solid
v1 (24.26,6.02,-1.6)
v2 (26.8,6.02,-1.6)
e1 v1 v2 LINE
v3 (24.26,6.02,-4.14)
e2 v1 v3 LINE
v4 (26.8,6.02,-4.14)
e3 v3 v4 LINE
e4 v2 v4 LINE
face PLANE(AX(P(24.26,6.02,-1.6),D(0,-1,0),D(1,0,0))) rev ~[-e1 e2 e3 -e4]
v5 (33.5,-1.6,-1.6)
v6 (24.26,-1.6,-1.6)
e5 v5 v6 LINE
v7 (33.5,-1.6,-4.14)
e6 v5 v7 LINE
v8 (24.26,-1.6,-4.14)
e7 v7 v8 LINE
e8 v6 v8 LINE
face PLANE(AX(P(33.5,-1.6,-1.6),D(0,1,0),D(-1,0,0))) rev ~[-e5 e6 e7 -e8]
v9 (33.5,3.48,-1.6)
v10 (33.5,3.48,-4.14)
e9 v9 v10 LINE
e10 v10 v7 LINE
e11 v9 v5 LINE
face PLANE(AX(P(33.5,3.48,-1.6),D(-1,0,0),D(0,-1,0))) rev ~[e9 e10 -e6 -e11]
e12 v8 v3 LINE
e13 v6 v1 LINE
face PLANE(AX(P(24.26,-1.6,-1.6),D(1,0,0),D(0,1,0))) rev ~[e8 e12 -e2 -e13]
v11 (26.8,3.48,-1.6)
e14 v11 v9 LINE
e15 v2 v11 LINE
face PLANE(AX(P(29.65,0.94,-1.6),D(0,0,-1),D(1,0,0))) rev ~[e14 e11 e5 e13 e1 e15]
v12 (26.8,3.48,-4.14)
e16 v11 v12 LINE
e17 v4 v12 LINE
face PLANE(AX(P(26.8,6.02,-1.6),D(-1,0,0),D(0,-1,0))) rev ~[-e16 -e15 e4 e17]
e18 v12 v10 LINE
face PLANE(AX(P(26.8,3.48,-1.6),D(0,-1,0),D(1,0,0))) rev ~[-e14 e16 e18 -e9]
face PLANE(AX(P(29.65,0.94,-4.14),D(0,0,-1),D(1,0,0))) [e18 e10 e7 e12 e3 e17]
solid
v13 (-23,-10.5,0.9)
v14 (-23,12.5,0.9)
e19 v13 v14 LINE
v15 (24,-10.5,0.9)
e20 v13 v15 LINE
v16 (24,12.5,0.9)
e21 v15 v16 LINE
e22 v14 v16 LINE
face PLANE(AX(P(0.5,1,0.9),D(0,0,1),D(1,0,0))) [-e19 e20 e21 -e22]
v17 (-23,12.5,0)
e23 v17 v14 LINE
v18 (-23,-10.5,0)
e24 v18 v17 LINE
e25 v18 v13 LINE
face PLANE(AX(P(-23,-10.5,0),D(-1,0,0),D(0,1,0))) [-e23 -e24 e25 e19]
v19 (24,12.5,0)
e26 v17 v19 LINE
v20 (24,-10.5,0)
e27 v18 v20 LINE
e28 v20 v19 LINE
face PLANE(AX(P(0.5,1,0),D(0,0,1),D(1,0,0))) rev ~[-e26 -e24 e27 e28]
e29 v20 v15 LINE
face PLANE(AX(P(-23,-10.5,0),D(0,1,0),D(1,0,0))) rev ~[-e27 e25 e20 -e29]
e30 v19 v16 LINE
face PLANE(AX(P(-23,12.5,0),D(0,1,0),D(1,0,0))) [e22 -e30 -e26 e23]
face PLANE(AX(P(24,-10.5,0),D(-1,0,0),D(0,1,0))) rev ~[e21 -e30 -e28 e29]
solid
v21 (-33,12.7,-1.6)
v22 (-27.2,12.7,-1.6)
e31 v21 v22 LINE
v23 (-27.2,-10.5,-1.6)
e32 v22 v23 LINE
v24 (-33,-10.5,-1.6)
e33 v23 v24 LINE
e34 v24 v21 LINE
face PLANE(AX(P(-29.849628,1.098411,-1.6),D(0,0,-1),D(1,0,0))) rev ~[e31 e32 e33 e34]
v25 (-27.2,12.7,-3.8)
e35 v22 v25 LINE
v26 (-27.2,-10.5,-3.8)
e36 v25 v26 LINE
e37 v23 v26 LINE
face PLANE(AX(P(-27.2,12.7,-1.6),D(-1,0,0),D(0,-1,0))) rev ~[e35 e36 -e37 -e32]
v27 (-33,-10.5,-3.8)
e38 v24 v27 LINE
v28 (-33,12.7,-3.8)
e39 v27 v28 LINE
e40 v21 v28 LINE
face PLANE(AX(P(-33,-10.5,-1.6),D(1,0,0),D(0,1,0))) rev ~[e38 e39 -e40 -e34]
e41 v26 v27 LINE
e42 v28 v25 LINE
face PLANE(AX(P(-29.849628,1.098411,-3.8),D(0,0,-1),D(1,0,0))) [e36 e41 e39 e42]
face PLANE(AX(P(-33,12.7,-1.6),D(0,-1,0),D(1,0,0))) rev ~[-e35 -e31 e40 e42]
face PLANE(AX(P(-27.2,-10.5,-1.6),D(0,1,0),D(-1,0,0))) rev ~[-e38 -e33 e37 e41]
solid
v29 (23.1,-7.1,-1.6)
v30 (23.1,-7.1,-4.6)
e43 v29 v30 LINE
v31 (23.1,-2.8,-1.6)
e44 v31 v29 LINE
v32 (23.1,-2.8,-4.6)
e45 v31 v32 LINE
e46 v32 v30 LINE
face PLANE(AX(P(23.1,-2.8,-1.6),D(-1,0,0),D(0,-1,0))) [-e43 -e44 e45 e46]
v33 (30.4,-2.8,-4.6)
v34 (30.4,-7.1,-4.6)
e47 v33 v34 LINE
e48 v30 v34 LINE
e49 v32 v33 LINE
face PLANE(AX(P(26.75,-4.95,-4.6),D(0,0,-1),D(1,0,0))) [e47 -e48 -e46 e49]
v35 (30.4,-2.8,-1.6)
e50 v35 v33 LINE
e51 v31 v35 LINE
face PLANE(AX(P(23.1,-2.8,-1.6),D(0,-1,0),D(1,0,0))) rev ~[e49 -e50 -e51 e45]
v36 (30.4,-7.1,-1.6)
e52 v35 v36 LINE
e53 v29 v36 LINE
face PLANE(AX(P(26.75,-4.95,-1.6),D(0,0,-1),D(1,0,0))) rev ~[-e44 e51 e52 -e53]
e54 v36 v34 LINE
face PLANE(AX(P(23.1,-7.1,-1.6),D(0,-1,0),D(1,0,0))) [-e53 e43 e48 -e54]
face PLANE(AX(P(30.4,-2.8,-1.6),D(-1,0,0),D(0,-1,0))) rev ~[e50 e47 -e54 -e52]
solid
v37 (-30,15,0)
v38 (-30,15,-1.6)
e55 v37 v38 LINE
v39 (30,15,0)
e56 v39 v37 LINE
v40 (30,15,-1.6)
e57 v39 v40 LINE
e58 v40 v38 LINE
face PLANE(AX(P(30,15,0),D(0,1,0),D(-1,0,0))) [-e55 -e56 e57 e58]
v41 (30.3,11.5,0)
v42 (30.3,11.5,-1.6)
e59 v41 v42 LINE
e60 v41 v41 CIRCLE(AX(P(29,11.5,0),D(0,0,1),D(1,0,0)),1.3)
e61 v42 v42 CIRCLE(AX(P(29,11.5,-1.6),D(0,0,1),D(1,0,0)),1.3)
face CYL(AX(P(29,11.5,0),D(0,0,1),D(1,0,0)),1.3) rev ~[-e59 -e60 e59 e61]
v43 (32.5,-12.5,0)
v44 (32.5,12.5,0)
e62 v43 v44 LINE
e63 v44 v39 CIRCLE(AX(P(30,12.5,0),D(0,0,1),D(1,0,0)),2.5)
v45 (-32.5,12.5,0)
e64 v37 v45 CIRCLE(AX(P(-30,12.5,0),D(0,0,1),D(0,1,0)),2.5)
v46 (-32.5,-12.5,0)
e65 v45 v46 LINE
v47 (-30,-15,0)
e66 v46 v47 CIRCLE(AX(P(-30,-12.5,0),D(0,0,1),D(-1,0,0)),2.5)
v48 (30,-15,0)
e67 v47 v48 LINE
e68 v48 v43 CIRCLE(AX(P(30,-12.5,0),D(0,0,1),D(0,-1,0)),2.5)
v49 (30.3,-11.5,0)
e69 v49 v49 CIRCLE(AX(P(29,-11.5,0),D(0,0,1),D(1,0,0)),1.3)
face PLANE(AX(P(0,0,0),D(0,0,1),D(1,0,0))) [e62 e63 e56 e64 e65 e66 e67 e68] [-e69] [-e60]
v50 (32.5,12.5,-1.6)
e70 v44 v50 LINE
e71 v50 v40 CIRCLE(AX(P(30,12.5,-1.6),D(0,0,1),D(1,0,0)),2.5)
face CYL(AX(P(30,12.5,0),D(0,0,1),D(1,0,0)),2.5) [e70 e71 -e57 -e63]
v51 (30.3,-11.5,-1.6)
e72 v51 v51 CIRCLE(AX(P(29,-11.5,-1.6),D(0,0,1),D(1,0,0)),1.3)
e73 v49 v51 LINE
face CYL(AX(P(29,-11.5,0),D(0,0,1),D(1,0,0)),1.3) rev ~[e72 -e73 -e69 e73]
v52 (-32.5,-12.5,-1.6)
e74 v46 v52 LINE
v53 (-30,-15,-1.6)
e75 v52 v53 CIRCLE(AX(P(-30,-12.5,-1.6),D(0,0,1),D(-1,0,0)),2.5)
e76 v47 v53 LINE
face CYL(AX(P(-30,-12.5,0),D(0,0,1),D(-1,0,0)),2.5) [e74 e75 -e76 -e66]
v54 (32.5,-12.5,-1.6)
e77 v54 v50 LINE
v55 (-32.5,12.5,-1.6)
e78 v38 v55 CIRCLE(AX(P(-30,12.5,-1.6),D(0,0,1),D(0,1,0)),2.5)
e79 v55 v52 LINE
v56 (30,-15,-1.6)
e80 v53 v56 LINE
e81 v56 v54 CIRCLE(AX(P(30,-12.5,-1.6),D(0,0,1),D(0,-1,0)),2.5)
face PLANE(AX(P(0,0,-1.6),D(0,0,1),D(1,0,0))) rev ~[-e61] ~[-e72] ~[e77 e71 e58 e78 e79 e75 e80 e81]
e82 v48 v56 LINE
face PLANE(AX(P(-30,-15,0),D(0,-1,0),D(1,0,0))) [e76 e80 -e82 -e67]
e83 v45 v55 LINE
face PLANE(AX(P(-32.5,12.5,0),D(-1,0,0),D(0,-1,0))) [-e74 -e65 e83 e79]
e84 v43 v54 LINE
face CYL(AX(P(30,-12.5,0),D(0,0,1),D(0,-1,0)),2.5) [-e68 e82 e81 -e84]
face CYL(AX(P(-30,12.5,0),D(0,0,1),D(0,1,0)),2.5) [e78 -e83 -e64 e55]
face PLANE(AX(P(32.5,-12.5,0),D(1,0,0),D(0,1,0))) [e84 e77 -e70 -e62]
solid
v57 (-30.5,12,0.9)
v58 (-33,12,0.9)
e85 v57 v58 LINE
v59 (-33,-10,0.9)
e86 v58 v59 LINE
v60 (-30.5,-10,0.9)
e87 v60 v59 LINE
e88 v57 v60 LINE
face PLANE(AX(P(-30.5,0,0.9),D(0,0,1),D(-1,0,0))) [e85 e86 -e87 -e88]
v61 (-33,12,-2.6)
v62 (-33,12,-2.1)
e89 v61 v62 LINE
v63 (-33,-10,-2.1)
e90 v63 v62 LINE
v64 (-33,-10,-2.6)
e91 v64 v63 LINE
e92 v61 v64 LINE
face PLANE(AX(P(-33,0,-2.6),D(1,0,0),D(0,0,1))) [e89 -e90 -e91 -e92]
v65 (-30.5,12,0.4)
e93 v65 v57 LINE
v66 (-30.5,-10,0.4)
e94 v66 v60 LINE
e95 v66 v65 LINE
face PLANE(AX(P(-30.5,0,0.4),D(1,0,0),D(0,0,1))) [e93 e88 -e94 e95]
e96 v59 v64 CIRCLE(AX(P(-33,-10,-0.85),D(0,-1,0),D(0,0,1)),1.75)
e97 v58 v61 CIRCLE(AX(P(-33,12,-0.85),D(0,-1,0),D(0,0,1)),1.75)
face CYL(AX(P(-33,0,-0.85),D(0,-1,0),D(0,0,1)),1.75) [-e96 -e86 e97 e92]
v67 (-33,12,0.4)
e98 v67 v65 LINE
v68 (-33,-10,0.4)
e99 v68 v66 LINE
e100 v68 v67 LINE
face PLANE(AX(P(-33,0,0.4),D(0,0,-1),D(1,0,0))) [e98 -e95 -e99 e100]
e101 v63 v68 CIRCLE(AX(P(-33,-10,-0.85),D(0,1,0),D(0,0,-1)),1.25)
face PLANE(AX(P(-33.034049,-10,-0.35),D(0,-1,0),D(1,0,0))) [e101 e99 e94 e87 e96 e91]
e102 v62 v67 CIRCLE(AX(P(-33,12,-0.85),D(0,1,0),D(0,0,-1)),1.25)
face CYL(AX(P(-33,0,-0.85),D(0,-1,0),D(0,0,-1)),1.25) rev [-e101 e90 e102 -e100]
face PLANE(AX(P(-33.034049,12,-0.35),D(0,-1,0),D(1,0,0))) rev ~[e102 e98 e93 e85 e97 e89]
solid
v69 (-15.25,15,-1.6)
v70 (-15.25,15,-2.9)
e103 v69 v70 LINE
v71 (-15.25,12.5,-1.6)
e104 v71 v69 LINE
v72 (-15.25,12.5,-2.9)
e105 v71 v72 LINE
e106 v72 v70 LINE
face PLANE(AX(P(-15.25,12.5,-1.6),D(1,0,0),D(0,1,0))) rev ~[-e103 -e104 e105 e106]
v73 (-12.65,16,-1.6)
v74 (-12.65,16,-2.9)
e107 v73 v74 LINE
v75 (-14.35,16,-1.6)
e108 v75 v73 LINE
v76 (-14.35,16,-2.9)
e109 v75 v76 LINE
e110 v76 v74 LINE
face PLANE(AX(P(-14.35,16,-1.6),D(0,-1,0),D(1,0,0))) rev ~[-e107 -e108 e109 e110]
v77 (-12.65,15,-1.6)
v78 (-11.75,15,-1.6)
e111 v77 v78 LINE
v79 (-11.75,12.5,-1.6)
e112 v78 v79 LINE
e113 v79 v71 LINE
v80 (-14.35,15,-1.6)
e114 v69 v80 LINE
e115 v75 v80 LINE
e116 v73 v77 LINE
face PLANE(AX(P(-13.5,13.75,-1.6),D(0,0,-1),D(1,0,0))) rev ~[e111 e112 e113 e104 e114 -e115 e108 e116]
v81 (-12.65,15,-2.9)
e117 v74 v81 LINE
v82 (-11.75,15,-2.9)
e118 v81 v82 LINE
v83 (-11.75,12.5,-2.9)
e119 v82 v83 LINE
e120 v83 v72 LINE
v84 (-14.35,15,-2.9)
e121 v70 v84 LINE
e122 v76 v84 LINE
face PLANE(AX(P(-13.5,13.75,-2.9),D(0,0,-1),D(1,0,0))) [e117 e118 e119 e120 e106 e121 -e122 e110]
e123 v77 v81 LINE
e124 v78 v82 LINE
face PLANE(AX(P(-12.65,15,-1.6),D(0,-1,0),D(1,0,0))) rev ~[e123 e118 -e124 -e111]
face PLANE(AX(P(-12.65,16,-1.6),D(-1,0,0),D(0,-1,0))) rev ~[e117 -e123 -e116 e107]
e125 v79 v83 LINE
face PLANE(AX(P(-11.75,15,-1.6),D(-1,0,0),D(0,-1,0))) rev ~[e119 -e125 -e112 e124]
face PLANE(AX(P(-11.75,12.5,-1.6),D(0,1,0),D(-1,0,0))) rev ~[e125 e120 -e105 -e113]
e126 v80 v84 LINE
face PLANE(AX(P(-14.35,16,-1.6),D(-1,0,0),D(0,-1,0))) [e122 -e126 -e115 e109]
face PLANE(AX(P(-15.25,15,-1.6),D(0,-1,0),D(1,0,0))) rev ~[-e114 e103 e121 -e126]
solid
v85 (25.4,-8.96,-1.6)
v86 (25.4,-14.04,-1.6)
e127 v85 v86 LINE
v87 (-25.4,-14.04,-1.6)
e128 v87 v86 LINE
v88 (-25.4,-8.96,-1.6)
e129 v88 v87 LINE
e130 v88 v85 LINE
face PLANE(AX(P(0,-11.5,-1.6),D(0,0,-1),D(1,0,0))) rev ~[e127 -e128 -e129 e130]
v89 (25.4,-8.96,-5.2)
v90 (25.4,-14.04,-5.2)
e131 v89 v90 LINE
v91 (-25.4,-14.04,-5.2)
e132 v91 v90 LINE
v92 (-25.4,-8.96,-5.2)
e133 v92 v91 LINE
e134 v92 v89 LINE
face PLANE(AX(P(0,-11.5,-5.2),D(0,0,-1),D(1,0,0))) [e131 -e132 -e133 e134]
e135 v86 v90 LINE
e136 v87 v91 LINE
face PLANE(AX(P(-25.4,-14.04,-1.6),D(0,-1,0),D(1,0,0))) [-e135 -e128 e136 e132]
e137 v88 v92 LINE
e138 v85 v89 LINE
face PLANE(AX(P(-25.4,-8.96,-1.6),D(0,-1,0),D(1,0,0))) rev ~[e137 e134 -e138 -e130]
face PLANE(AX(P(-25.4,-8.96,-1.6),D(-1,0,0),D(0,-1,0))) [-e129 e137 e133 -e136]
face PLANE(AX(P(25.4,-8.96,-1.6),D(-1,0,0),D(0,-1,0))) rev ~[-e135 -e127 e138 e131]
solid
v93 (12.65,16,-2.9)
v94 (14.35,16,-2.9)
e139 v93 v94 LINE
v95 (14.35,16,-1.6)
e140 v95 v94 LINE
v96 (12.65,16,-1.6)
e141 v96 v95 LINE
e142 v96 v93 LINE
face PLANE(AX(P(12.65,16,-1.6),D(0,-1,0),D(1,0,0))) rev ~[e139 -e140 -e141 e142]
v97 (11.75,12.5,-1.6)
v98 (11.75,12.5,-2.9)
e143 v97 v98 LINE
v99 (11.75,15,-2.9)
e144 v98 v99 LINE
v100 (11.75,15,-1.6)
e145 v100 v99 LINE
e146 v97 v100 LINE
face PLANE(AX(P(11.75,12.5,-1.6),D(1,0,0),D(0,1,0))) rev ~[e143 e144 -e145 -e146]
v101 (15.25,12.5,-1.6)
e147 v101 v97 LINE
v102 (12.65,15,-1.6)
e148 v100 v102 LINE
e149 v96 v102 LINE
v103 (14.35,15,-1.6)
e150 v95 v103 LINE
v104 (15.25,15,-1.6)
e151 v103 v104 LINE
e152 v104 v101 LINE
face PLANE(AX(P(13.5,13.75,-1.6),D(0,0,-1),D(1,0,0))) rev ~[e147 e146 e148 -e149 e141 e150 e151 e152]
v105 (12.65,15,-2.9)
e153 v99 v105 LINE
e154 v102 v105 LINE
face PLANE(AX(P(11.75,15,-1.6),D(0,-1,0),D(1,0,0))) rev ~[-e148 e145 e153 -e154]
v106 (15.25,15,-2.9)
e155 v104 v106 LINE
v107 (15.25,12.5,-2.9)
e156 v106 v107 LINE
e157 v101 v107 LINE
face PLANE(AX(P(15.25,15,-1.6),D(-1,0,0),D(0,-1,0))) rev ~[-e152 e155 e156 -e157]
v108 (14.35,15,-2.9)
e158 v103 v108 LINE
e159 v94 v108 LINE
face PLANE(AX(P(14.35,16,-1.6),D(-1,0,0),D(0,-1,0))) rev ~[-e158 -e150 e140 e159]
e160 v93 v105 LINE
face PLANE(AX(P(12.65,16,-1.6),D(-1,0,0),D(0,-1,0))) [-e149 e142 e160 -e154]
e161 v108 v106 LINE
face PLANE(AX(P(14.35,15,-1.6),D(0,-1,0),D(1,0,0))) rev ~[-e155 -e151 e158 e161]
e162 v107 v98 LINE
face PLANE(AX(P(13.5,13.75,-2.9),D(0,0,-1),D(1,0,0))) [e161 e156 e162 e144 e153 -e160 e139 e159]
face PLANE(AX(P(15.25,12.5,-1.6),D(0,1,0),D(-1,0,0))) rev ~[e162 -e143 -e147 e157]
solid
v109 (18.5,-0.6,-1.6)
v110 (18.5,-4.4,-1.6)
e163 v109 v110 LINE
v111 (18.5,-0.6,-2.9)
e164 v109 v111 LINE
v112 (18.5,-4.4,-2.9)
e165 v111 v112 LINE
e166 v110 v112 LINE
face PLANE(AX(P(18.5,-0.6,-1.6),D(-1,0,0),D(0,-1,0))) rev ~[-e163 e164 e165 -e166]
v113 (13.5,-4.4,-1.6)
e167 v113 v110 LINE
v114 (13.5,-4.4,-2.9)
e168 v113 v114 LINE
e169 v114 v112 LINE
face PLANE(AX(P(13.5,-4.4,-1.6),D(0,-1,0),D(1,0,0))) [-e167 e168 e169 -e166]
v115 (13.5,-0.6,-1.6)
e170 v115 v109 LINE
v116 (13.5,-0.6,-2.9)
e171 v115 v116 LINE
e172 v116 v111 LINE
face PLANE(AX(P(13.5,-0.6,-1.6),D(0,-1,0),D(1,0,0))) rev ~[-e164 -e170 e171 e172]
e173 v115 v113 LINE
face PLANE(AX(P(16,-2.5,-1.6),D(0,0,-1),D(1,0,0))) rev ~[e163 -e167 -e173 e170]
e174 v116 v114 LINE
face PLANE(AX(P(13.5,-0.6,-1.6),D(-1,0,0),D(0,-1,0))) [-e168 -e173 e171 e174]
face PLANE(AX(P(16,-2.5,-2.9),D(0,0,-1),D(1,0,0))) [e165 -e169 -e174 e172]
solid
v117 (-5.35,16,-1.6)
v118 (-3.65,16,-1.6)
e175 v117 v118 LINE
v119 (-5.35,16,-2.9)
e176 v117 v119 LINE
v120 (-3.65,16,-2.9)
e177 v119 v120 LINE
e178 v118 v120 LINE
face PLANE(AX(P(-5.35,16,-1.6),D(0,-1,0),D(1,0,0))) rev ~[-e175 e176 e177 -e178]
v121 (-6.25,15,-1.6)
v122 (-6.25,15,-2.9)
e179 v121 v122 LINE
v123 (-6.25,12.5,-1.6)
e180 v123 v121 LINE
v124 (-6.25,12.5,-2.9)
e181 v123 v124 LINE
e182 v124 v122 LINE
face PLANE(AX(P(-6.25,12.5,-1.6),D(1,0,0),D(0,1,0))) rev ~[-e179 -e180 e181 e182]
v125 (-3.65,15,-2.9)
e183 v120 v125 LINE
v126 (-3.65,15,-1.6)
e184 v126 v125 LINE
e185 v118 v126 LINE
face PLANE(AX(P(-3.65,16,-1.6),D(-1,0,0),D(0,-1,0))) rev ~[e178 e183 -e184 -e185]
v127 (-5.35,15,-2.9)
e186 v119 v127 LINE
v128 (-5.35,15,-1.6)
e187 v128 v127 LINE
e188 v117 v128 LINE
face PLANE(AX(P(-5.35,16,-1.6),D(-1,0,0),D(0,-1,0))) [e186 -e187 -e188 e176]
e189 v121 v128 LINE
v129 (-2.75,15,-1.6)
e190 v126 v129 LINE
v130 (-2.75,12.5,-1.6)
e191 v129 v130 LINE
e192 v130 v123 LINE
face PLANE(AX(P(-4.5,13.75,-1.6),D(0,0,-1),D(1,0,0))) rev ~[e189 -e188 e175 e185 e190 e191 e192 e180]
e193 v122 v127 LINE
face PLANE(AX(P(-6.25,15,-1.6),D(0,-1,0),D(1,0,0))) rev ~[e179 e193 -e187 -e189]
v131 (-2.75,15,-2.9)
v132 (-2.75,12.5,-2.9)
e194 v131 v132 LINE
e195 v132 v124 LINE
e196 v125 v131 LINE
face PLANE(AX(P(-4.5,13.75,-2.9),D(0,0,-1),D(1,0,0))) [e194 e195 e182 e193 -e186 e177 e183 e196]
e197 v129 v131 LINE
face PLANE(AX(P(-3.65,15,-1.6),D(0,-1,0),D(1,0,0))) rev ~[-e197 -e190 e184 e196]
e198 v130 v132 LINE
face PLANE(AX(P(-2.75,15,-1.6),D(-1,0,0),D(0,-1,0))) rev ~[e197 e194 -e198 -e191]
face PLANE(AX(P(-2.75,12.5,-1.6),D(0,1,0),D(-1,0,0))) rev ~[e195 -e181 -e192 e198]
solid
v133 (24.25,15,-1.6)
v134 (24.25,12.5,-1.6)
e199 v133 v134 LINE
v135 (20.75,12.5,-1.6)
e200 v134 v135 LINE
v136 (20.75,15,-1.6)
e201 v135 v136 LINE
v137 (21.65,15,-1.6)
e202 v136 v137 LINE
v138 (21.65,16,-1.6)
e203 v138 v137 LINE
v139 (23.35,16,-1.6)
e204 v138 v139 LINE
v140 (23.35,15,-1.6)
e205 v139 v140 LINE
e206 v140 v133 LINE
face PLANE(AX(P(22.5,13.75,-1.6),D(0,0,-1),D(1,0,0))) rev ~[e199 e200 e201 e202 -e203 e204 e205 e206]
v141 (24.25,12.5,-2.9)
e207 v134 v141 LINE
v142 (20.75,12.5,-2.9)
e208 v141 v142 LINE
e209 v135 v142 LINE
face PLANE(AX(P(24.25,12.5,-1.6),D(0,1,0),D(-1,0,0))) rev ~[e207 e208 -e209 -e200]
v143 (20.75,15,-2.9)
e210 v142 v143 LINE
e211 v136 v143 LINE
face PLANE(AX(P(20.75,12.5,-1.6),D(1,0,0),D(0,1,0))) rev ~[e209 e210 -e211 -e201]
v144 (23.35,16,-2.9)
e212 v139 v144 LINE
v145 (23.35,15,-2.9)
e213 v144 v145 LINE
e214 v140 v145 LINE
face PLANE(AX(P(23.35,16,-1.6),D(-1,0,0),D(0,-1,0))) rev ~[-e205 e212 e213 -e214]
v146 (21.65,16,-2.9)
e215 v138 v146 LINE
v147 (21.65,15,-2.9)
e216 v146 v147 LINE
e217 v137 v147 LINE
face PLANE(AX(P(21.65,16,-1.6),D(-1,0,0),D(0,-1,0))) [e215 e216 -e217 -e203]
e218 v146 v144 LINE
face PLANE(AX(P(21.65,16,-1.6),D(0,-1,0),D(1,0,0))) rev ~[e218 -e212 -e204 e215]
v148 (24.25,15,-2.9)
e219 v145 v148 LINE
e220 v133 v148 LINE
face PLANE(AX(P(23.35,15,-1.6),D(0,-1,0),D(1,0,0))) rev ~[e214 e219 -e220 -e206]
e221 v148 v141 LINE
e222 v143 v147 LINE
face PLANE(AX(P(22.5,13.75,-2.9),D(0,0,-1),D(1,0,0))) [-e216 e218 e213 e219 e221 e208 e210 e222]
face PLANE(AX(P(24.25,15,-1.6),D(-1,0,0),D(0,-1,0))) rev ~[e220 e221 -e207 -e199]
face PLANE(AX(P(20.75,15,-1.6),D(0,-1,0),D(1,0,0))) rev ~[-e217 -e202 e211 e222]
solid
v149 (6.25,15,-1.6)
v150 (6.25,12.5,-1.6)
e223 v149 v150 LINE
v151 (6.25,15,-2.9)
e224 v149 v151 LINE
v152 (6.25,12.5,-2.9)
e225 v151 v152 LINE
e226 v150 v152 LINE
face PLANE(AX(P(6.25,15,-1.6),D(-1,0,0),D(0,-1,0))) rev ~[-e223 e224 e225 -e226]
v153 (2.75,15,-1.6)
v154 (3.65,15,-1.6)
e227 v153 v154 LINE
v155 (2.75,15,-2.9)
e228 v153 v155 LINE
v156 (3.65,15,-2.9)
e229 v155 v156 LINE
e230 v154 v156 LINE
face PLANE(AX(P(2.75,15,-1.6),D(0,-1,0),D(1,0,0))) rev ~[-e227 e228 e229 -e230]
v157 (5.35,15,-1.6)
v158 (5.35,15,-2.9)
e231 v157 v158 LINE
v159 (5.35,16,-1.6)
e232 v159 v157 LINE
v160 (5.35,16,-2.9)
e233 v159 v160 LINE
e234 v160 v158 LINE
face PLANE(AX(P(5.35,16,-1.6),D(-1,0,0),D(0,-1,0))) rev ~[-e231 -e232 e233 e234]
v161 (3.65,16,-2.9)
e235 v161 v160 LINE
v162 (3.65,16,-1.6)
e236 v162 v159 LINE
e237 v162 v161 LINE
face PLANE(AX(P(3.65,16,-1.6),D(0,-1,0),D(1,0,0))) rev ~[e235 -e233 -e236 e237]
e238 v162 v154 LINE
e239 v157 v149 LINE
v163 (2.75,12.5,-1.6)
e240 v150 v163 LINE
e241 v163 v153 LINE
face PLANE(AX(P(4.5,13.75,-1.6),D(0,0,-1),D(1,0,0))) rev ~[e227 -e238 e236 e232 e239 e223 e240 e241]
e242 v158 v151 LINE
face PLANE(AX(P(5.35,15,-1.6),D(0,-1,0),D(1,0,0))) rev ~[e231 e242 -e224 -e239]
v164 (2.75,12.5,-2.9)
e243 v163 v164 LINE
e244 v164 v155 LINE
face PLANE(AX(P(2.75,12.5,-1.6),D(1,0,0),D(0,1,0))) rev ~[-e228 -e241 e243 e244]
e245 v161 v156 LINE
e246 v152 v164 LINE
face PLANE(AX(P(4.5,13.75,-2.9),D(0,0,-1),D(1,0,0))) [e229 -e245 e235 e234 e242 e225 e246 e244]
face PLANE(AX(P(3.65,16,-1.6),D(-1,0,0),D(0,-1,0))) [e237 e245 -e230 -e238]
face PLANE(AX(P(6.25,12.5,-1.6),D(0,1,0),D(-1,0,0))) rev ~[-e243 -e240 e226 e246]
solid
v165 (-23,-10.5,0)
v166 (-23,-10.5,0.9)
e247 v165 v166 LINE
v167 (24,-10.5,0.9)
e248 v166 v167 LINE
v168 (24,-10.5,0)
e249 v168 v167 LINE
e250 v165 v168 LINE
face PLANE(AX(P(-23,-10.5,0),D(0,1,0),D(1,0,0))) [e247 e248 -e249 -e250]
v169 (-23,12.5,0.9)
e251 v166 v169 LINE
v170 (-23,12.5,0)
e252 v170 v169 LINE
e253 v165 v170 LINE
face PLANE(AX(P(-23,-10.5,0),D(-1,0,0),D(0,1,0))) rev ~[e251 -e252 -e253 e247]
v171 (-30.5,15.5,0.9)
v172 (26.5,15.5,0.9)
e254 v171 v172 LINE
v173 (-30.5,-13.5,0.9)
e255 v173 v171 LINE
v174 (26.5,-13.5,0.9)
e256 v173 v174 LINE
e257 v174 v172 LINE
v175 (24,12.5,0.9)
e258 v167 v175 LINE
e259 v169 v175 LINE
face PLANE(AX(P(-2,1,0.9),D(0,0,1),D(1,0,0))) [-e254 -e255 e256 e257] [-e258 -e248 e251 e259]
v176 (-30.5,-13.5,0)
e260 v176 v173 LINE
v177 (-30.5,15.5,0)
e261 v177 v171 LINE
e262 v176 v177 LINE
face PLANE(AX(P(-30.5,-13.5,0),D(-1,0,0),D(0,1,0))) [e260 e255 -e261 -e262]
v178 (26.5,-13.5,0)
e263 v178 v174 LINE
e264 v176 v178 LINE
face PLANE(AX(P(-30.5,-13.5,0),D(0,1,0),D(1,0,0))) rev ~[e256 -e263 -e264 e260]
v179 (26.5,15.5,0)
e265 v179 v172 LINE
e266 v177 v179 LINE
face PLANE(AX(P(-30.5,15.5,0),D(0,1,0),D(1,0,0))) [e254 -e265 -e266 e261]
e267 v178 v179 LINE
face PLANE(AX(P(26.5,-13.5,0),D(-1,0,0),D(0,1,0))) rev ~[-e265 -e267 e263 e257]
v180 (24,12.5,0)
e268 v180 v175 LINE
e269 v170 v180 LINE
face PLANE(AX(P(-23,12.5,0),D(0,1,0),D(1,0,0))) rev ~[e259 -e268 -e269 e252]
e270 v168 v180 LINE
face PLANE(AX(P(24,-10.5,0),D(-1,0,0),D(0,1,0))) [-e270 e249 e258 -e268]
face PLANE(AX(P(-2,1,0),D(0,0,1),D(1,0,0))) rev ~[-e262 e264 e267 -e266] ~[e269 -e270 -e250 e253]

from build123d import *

# Parameters (mm, degrees)
F0_R           = 1.3
F1_DEPTH       = 1.6
F2_W           = 47
F2_H           = 23
F3_DEPTH       = 0.9
F2_W_2         = 57
F2_H_2         = 29
F4_DEPTH       = 0.9
F5_W           = 5
F5_H           = 3.8
F6_DEPTH       = 1.3
F5_W_2         = 1.7
F5_H_2         = 1
F7_DEPTH       = 2.2
F5_W_3         = 5.7
F5_H_3         = 5.08
F5_W_4         = 1
F8_DEPTH       = 2.54
F5_W_5         = 7.3
F5_H_4         = 4.3
F9_DEPTH       = 3
F5_W_6         = 50.8
F10_DEPTH      = 3.6
F12_DEPTH      = 10
F12_DEPTH_BACK = 12


with BuildPart() as f1:
    # F0 (on Top) → F1 (new body)
    with BuildSketch(Plane.XY):
        with BuildLine():
            Line((30, 15), (-30, 15))
            ThreePointArc((-30, 15), (-31.767766953, 14.267766953), (-32.5, 12.5))
            Line((-32.5, 12.5), (-32.5, -12.5))
            ThreePointArc((-32.5, -12.5), (-31.767766953, -14.267766953), (-30, -15))
            Line((-30, -15), (30, -15))
            ThreePointArc((30, -15), (31.767766953, -14.267766953), (32.5, -12.5))
            Line((32.5, -12.5), (32.5, 12.5))
            ThreePointArc((32.5, 12.5), (31.767766953, 14.267766953), (30, 15))
        make_face()
        with Locations((29, -11.5)):
            Circle(F0_R, mode=Mode.SUBTRACT)
        with Locations((29, 11.5)):
            Circle(F0_R, mode=Mode.SUBTRACT)
    extrude(amount=-F1_DEPTH)


with BuildPart() as f3:
    # F2 (on Top) → F3 (new body)
    with BuildSketch(Plane.XY):
        with Locations((0.5, 1)):
            Rectangle(F2_W, F2_H)
    extrude(amount=F3_DEPTH)


with BuildPart() as f4:
    # F2 (on Top) → F4 (new body)
    with BuildSketch(Plane.XY):
        with Locations((-2, 1)):
            Rectangle(F2_W_2, F2_H_2)
        with Locations((0.5, 1)):
            Rectangle(F2_W, F2_H, mode=Mode.SUBTRACT)
    extrude(amount=F4_DEPTH)


with BuildPart() as f6:
    # F5 (on face) → F6 (new body)
    with BuildSketch(Plane(origin=(0, 0, -1.6), x_dir=(1, 0, 0), z_dir=(0, 0, -1))):
        with Locations((16, 2.5)):
            Rectangle(F5_W, F5_H)
    extrude(amount=F6_DEPTH)


with BuildPart() as f6b:
    # F5 (on face) → F6, piece 2 (new body)
    with BuildSketch(Plane(origin=(0, 0, -1.6), x_dir=(1, 0, 0), z_dir=(0, 0, -1))):
        Polygon((23.35, -15), (24.25, -15), (24.25, -12.5), (20.75, -12.5), (20.75, -15), (21.65, -15), align=None)
        with Locations((22.5, -15.5)):
            Rectangle(F5_W_2, F5_H_2)
    extrude(amount=F6_DEPTH)


with BuildPart() as f6c:
    # F5 (on face) → F6, piece 3 (new body)
    with BuildSketch(Plane(origin=(0, 0, -1.6), x_dir=(1, 0, 0), z_dir=(0, 0, -1))):
        Polygon((14.35, -15), (15.25, -15), (15.25, -12.5), (11.75, -12.5), (11.75, -15), (12.65, -15), align=None)
        with Locations((13.5, -15.5)):
            Rectangle(F5_W_2, F5_H_2)
    extrude(amount=F6_DEPTH)


with BuildPart() as f6d:
    # F5 (on face) → F6, piece 4 (new body)
    with BuildSketch(Plane(origin=(0, 0, -1.6), x_dir=(1, 0, 0), z_dir=(0, 0, -1))):
        Polygon((5.35, -15), (6.25, -15), (6.25, -12.5), (2.75, -12.5), (2.75, -15), (3.65, -15), align=None)
        with Locations((4.5, -15.5)):
            Rectangle(F5_W_2, F5_H_2)
    extrude(amount=F6_DEPTH)


with BuildPart() as f6e:
    # F5 (on face) → F6, piece 5 (new body)
    with BuildSketch(Plane(origin=(0, 0, -1.6), x_dir=(1, 0, 0), z_dir=(0, 0, -1))):
        Polygon((-3.65, -15), (-2.75, -15), (-2.75, -12.5), (-6.25, -12.5), (-6.25, -15), (-5.35, -15), align=None)
        with Locations((-4.5, -15.5)):
            Rectangle(F5_W_2, F5_H_2)
    extrude(amount=F6_DEPTH)


with BuildPart() as f6f:
    # F5 (on face) → F6, piece 6 (new body)
    with BuildSketch(Plane(origin=(0, 0, -1.6), x_dir=(1, 0, 0), z_dir=(0, 0, -1))):
        Polygon((-15.25, -12.5), (-15.25, -15), (-14.35, -15), (-12.65, -15), (-11.75, -15), (-11.75, -12.5), align=None)
        with Locations((-13.5, -15.5)):
            Rectangle(F5_W_2, F5_H_2)
    extrude(amount=F6_DEPTH)


with BuildPart() as f7:
    # F5 (on face) → F7 (new body)
    with BuildSketch(Plane(origin=(0, 0, -1.6), x_dir=(1, 0, 0), z_dir=(0, 0, -1))):
        with BuildLine():
            Line((-27.2, 10.5), (-32.5, 10.5))
            Line((-32.5, 10.5), (-32.5, -12.5))
            ThreePointArc((-32.5, -12.5), (-32.4979959865, -12.6000802248), (-32.4919871589, -12.7))
            Line((-32.4919871589, -12.7), (-27.2, -12.7))
            Line((-27.2, -12.7), (-27.2, 10.5))
        make_face()
        with BuildLine():
            Line((-32.5, -12.5), (-32.5, 10.5))
            Line((-32.5, 10.5), (-33, 10.5))
            Line((-33, 10.5), (-33, -12.7))
            Line((-33, -12.7), (-32.4919871589, -12.7))
            ThreePointArc((-32.4919871589, -12.7), (-32.4979959865, -12.6000802248), (-32.5, -12.5))
        make_face()
    extrude(amount=F7_DEPTH)


with BuildPart() as f8:
    # F5 (on face) → F8 (new body)
    with BuildSketch(Plane(origin=(0, 0, -1.6), x_dir=(1, 0, 0), z_dir=(0, 0, -1))):
        with Locations((29.65, -0.94)):
            Rectangle(F5_W_3, F5_H_3)
        Polygon((26.8, -6.02), (26.8, -3.48), (26.8, 1.6), (24.26, 1.6), (24.26, -6.02), align=None)
        with Locations((33, -0.94)):
            Rectangle(F5_W_4, F5_H_3)
    extrude(amount=F8_DEPTH)


with BuildPart() as f9:
    # F5 (on face) → F9 (new body)
    with BuildSketch(Plane(origin=(0, 0, -1.6), x_dir=(1, 0, 0), z_dir=(0, 0, -1))):
        with Locations((26.75, 4.95)):
            Rectangle(F5_W_5, F5_H_4)
    extrude(amount=F9_DEPTH)


with BuildPart() as f10:
    # F5 (on face) → F10 (new body)
    with BuildSketch(Plane(origin=(0, 0, -1.6), x_dir=(1, 0, 0), z_dir=(0, 0, -1))):
        with Locations((0, 11.5)):
            Rectangle(F5_W_6, F5_H_3)
    extrude(amount=F10_DEPTH)


with BuildPart() as f12:
    # F11 (on Front) → F12 (new body, two sides)
    with BuildSketch(Plane.XZ) as f12_sk:
        with BuildLine():
            Line((-30.5, 0.4), (-30.5, 0.9))
            Line((-30.5, 0.9), (-33, 0.9))
            ThreePointArc((-33, 0.9), (-34.75, -0.85), (-33, -2.6))
            Line((-33, -2.6), (-33, -2.1))
            ThreePointArc((-33, -2.1), (-34.25, -0.85), (-33, 0.4))
            Line((-33, 0.4), (-30.5, 0.4))
        make_face()
    extrude(amount=F12_DEPTH)
    extrude(f12_sk.sketch, amount=-F12_DEPTH_BACK)


solid = Compound([f1.part, f3.part, f4.part, f6.part, f6b.part, f6c.part, f6d.part, f6e.part, f6f.part, f7.part, f8.part, f9.part, f10.part, f12.part])
